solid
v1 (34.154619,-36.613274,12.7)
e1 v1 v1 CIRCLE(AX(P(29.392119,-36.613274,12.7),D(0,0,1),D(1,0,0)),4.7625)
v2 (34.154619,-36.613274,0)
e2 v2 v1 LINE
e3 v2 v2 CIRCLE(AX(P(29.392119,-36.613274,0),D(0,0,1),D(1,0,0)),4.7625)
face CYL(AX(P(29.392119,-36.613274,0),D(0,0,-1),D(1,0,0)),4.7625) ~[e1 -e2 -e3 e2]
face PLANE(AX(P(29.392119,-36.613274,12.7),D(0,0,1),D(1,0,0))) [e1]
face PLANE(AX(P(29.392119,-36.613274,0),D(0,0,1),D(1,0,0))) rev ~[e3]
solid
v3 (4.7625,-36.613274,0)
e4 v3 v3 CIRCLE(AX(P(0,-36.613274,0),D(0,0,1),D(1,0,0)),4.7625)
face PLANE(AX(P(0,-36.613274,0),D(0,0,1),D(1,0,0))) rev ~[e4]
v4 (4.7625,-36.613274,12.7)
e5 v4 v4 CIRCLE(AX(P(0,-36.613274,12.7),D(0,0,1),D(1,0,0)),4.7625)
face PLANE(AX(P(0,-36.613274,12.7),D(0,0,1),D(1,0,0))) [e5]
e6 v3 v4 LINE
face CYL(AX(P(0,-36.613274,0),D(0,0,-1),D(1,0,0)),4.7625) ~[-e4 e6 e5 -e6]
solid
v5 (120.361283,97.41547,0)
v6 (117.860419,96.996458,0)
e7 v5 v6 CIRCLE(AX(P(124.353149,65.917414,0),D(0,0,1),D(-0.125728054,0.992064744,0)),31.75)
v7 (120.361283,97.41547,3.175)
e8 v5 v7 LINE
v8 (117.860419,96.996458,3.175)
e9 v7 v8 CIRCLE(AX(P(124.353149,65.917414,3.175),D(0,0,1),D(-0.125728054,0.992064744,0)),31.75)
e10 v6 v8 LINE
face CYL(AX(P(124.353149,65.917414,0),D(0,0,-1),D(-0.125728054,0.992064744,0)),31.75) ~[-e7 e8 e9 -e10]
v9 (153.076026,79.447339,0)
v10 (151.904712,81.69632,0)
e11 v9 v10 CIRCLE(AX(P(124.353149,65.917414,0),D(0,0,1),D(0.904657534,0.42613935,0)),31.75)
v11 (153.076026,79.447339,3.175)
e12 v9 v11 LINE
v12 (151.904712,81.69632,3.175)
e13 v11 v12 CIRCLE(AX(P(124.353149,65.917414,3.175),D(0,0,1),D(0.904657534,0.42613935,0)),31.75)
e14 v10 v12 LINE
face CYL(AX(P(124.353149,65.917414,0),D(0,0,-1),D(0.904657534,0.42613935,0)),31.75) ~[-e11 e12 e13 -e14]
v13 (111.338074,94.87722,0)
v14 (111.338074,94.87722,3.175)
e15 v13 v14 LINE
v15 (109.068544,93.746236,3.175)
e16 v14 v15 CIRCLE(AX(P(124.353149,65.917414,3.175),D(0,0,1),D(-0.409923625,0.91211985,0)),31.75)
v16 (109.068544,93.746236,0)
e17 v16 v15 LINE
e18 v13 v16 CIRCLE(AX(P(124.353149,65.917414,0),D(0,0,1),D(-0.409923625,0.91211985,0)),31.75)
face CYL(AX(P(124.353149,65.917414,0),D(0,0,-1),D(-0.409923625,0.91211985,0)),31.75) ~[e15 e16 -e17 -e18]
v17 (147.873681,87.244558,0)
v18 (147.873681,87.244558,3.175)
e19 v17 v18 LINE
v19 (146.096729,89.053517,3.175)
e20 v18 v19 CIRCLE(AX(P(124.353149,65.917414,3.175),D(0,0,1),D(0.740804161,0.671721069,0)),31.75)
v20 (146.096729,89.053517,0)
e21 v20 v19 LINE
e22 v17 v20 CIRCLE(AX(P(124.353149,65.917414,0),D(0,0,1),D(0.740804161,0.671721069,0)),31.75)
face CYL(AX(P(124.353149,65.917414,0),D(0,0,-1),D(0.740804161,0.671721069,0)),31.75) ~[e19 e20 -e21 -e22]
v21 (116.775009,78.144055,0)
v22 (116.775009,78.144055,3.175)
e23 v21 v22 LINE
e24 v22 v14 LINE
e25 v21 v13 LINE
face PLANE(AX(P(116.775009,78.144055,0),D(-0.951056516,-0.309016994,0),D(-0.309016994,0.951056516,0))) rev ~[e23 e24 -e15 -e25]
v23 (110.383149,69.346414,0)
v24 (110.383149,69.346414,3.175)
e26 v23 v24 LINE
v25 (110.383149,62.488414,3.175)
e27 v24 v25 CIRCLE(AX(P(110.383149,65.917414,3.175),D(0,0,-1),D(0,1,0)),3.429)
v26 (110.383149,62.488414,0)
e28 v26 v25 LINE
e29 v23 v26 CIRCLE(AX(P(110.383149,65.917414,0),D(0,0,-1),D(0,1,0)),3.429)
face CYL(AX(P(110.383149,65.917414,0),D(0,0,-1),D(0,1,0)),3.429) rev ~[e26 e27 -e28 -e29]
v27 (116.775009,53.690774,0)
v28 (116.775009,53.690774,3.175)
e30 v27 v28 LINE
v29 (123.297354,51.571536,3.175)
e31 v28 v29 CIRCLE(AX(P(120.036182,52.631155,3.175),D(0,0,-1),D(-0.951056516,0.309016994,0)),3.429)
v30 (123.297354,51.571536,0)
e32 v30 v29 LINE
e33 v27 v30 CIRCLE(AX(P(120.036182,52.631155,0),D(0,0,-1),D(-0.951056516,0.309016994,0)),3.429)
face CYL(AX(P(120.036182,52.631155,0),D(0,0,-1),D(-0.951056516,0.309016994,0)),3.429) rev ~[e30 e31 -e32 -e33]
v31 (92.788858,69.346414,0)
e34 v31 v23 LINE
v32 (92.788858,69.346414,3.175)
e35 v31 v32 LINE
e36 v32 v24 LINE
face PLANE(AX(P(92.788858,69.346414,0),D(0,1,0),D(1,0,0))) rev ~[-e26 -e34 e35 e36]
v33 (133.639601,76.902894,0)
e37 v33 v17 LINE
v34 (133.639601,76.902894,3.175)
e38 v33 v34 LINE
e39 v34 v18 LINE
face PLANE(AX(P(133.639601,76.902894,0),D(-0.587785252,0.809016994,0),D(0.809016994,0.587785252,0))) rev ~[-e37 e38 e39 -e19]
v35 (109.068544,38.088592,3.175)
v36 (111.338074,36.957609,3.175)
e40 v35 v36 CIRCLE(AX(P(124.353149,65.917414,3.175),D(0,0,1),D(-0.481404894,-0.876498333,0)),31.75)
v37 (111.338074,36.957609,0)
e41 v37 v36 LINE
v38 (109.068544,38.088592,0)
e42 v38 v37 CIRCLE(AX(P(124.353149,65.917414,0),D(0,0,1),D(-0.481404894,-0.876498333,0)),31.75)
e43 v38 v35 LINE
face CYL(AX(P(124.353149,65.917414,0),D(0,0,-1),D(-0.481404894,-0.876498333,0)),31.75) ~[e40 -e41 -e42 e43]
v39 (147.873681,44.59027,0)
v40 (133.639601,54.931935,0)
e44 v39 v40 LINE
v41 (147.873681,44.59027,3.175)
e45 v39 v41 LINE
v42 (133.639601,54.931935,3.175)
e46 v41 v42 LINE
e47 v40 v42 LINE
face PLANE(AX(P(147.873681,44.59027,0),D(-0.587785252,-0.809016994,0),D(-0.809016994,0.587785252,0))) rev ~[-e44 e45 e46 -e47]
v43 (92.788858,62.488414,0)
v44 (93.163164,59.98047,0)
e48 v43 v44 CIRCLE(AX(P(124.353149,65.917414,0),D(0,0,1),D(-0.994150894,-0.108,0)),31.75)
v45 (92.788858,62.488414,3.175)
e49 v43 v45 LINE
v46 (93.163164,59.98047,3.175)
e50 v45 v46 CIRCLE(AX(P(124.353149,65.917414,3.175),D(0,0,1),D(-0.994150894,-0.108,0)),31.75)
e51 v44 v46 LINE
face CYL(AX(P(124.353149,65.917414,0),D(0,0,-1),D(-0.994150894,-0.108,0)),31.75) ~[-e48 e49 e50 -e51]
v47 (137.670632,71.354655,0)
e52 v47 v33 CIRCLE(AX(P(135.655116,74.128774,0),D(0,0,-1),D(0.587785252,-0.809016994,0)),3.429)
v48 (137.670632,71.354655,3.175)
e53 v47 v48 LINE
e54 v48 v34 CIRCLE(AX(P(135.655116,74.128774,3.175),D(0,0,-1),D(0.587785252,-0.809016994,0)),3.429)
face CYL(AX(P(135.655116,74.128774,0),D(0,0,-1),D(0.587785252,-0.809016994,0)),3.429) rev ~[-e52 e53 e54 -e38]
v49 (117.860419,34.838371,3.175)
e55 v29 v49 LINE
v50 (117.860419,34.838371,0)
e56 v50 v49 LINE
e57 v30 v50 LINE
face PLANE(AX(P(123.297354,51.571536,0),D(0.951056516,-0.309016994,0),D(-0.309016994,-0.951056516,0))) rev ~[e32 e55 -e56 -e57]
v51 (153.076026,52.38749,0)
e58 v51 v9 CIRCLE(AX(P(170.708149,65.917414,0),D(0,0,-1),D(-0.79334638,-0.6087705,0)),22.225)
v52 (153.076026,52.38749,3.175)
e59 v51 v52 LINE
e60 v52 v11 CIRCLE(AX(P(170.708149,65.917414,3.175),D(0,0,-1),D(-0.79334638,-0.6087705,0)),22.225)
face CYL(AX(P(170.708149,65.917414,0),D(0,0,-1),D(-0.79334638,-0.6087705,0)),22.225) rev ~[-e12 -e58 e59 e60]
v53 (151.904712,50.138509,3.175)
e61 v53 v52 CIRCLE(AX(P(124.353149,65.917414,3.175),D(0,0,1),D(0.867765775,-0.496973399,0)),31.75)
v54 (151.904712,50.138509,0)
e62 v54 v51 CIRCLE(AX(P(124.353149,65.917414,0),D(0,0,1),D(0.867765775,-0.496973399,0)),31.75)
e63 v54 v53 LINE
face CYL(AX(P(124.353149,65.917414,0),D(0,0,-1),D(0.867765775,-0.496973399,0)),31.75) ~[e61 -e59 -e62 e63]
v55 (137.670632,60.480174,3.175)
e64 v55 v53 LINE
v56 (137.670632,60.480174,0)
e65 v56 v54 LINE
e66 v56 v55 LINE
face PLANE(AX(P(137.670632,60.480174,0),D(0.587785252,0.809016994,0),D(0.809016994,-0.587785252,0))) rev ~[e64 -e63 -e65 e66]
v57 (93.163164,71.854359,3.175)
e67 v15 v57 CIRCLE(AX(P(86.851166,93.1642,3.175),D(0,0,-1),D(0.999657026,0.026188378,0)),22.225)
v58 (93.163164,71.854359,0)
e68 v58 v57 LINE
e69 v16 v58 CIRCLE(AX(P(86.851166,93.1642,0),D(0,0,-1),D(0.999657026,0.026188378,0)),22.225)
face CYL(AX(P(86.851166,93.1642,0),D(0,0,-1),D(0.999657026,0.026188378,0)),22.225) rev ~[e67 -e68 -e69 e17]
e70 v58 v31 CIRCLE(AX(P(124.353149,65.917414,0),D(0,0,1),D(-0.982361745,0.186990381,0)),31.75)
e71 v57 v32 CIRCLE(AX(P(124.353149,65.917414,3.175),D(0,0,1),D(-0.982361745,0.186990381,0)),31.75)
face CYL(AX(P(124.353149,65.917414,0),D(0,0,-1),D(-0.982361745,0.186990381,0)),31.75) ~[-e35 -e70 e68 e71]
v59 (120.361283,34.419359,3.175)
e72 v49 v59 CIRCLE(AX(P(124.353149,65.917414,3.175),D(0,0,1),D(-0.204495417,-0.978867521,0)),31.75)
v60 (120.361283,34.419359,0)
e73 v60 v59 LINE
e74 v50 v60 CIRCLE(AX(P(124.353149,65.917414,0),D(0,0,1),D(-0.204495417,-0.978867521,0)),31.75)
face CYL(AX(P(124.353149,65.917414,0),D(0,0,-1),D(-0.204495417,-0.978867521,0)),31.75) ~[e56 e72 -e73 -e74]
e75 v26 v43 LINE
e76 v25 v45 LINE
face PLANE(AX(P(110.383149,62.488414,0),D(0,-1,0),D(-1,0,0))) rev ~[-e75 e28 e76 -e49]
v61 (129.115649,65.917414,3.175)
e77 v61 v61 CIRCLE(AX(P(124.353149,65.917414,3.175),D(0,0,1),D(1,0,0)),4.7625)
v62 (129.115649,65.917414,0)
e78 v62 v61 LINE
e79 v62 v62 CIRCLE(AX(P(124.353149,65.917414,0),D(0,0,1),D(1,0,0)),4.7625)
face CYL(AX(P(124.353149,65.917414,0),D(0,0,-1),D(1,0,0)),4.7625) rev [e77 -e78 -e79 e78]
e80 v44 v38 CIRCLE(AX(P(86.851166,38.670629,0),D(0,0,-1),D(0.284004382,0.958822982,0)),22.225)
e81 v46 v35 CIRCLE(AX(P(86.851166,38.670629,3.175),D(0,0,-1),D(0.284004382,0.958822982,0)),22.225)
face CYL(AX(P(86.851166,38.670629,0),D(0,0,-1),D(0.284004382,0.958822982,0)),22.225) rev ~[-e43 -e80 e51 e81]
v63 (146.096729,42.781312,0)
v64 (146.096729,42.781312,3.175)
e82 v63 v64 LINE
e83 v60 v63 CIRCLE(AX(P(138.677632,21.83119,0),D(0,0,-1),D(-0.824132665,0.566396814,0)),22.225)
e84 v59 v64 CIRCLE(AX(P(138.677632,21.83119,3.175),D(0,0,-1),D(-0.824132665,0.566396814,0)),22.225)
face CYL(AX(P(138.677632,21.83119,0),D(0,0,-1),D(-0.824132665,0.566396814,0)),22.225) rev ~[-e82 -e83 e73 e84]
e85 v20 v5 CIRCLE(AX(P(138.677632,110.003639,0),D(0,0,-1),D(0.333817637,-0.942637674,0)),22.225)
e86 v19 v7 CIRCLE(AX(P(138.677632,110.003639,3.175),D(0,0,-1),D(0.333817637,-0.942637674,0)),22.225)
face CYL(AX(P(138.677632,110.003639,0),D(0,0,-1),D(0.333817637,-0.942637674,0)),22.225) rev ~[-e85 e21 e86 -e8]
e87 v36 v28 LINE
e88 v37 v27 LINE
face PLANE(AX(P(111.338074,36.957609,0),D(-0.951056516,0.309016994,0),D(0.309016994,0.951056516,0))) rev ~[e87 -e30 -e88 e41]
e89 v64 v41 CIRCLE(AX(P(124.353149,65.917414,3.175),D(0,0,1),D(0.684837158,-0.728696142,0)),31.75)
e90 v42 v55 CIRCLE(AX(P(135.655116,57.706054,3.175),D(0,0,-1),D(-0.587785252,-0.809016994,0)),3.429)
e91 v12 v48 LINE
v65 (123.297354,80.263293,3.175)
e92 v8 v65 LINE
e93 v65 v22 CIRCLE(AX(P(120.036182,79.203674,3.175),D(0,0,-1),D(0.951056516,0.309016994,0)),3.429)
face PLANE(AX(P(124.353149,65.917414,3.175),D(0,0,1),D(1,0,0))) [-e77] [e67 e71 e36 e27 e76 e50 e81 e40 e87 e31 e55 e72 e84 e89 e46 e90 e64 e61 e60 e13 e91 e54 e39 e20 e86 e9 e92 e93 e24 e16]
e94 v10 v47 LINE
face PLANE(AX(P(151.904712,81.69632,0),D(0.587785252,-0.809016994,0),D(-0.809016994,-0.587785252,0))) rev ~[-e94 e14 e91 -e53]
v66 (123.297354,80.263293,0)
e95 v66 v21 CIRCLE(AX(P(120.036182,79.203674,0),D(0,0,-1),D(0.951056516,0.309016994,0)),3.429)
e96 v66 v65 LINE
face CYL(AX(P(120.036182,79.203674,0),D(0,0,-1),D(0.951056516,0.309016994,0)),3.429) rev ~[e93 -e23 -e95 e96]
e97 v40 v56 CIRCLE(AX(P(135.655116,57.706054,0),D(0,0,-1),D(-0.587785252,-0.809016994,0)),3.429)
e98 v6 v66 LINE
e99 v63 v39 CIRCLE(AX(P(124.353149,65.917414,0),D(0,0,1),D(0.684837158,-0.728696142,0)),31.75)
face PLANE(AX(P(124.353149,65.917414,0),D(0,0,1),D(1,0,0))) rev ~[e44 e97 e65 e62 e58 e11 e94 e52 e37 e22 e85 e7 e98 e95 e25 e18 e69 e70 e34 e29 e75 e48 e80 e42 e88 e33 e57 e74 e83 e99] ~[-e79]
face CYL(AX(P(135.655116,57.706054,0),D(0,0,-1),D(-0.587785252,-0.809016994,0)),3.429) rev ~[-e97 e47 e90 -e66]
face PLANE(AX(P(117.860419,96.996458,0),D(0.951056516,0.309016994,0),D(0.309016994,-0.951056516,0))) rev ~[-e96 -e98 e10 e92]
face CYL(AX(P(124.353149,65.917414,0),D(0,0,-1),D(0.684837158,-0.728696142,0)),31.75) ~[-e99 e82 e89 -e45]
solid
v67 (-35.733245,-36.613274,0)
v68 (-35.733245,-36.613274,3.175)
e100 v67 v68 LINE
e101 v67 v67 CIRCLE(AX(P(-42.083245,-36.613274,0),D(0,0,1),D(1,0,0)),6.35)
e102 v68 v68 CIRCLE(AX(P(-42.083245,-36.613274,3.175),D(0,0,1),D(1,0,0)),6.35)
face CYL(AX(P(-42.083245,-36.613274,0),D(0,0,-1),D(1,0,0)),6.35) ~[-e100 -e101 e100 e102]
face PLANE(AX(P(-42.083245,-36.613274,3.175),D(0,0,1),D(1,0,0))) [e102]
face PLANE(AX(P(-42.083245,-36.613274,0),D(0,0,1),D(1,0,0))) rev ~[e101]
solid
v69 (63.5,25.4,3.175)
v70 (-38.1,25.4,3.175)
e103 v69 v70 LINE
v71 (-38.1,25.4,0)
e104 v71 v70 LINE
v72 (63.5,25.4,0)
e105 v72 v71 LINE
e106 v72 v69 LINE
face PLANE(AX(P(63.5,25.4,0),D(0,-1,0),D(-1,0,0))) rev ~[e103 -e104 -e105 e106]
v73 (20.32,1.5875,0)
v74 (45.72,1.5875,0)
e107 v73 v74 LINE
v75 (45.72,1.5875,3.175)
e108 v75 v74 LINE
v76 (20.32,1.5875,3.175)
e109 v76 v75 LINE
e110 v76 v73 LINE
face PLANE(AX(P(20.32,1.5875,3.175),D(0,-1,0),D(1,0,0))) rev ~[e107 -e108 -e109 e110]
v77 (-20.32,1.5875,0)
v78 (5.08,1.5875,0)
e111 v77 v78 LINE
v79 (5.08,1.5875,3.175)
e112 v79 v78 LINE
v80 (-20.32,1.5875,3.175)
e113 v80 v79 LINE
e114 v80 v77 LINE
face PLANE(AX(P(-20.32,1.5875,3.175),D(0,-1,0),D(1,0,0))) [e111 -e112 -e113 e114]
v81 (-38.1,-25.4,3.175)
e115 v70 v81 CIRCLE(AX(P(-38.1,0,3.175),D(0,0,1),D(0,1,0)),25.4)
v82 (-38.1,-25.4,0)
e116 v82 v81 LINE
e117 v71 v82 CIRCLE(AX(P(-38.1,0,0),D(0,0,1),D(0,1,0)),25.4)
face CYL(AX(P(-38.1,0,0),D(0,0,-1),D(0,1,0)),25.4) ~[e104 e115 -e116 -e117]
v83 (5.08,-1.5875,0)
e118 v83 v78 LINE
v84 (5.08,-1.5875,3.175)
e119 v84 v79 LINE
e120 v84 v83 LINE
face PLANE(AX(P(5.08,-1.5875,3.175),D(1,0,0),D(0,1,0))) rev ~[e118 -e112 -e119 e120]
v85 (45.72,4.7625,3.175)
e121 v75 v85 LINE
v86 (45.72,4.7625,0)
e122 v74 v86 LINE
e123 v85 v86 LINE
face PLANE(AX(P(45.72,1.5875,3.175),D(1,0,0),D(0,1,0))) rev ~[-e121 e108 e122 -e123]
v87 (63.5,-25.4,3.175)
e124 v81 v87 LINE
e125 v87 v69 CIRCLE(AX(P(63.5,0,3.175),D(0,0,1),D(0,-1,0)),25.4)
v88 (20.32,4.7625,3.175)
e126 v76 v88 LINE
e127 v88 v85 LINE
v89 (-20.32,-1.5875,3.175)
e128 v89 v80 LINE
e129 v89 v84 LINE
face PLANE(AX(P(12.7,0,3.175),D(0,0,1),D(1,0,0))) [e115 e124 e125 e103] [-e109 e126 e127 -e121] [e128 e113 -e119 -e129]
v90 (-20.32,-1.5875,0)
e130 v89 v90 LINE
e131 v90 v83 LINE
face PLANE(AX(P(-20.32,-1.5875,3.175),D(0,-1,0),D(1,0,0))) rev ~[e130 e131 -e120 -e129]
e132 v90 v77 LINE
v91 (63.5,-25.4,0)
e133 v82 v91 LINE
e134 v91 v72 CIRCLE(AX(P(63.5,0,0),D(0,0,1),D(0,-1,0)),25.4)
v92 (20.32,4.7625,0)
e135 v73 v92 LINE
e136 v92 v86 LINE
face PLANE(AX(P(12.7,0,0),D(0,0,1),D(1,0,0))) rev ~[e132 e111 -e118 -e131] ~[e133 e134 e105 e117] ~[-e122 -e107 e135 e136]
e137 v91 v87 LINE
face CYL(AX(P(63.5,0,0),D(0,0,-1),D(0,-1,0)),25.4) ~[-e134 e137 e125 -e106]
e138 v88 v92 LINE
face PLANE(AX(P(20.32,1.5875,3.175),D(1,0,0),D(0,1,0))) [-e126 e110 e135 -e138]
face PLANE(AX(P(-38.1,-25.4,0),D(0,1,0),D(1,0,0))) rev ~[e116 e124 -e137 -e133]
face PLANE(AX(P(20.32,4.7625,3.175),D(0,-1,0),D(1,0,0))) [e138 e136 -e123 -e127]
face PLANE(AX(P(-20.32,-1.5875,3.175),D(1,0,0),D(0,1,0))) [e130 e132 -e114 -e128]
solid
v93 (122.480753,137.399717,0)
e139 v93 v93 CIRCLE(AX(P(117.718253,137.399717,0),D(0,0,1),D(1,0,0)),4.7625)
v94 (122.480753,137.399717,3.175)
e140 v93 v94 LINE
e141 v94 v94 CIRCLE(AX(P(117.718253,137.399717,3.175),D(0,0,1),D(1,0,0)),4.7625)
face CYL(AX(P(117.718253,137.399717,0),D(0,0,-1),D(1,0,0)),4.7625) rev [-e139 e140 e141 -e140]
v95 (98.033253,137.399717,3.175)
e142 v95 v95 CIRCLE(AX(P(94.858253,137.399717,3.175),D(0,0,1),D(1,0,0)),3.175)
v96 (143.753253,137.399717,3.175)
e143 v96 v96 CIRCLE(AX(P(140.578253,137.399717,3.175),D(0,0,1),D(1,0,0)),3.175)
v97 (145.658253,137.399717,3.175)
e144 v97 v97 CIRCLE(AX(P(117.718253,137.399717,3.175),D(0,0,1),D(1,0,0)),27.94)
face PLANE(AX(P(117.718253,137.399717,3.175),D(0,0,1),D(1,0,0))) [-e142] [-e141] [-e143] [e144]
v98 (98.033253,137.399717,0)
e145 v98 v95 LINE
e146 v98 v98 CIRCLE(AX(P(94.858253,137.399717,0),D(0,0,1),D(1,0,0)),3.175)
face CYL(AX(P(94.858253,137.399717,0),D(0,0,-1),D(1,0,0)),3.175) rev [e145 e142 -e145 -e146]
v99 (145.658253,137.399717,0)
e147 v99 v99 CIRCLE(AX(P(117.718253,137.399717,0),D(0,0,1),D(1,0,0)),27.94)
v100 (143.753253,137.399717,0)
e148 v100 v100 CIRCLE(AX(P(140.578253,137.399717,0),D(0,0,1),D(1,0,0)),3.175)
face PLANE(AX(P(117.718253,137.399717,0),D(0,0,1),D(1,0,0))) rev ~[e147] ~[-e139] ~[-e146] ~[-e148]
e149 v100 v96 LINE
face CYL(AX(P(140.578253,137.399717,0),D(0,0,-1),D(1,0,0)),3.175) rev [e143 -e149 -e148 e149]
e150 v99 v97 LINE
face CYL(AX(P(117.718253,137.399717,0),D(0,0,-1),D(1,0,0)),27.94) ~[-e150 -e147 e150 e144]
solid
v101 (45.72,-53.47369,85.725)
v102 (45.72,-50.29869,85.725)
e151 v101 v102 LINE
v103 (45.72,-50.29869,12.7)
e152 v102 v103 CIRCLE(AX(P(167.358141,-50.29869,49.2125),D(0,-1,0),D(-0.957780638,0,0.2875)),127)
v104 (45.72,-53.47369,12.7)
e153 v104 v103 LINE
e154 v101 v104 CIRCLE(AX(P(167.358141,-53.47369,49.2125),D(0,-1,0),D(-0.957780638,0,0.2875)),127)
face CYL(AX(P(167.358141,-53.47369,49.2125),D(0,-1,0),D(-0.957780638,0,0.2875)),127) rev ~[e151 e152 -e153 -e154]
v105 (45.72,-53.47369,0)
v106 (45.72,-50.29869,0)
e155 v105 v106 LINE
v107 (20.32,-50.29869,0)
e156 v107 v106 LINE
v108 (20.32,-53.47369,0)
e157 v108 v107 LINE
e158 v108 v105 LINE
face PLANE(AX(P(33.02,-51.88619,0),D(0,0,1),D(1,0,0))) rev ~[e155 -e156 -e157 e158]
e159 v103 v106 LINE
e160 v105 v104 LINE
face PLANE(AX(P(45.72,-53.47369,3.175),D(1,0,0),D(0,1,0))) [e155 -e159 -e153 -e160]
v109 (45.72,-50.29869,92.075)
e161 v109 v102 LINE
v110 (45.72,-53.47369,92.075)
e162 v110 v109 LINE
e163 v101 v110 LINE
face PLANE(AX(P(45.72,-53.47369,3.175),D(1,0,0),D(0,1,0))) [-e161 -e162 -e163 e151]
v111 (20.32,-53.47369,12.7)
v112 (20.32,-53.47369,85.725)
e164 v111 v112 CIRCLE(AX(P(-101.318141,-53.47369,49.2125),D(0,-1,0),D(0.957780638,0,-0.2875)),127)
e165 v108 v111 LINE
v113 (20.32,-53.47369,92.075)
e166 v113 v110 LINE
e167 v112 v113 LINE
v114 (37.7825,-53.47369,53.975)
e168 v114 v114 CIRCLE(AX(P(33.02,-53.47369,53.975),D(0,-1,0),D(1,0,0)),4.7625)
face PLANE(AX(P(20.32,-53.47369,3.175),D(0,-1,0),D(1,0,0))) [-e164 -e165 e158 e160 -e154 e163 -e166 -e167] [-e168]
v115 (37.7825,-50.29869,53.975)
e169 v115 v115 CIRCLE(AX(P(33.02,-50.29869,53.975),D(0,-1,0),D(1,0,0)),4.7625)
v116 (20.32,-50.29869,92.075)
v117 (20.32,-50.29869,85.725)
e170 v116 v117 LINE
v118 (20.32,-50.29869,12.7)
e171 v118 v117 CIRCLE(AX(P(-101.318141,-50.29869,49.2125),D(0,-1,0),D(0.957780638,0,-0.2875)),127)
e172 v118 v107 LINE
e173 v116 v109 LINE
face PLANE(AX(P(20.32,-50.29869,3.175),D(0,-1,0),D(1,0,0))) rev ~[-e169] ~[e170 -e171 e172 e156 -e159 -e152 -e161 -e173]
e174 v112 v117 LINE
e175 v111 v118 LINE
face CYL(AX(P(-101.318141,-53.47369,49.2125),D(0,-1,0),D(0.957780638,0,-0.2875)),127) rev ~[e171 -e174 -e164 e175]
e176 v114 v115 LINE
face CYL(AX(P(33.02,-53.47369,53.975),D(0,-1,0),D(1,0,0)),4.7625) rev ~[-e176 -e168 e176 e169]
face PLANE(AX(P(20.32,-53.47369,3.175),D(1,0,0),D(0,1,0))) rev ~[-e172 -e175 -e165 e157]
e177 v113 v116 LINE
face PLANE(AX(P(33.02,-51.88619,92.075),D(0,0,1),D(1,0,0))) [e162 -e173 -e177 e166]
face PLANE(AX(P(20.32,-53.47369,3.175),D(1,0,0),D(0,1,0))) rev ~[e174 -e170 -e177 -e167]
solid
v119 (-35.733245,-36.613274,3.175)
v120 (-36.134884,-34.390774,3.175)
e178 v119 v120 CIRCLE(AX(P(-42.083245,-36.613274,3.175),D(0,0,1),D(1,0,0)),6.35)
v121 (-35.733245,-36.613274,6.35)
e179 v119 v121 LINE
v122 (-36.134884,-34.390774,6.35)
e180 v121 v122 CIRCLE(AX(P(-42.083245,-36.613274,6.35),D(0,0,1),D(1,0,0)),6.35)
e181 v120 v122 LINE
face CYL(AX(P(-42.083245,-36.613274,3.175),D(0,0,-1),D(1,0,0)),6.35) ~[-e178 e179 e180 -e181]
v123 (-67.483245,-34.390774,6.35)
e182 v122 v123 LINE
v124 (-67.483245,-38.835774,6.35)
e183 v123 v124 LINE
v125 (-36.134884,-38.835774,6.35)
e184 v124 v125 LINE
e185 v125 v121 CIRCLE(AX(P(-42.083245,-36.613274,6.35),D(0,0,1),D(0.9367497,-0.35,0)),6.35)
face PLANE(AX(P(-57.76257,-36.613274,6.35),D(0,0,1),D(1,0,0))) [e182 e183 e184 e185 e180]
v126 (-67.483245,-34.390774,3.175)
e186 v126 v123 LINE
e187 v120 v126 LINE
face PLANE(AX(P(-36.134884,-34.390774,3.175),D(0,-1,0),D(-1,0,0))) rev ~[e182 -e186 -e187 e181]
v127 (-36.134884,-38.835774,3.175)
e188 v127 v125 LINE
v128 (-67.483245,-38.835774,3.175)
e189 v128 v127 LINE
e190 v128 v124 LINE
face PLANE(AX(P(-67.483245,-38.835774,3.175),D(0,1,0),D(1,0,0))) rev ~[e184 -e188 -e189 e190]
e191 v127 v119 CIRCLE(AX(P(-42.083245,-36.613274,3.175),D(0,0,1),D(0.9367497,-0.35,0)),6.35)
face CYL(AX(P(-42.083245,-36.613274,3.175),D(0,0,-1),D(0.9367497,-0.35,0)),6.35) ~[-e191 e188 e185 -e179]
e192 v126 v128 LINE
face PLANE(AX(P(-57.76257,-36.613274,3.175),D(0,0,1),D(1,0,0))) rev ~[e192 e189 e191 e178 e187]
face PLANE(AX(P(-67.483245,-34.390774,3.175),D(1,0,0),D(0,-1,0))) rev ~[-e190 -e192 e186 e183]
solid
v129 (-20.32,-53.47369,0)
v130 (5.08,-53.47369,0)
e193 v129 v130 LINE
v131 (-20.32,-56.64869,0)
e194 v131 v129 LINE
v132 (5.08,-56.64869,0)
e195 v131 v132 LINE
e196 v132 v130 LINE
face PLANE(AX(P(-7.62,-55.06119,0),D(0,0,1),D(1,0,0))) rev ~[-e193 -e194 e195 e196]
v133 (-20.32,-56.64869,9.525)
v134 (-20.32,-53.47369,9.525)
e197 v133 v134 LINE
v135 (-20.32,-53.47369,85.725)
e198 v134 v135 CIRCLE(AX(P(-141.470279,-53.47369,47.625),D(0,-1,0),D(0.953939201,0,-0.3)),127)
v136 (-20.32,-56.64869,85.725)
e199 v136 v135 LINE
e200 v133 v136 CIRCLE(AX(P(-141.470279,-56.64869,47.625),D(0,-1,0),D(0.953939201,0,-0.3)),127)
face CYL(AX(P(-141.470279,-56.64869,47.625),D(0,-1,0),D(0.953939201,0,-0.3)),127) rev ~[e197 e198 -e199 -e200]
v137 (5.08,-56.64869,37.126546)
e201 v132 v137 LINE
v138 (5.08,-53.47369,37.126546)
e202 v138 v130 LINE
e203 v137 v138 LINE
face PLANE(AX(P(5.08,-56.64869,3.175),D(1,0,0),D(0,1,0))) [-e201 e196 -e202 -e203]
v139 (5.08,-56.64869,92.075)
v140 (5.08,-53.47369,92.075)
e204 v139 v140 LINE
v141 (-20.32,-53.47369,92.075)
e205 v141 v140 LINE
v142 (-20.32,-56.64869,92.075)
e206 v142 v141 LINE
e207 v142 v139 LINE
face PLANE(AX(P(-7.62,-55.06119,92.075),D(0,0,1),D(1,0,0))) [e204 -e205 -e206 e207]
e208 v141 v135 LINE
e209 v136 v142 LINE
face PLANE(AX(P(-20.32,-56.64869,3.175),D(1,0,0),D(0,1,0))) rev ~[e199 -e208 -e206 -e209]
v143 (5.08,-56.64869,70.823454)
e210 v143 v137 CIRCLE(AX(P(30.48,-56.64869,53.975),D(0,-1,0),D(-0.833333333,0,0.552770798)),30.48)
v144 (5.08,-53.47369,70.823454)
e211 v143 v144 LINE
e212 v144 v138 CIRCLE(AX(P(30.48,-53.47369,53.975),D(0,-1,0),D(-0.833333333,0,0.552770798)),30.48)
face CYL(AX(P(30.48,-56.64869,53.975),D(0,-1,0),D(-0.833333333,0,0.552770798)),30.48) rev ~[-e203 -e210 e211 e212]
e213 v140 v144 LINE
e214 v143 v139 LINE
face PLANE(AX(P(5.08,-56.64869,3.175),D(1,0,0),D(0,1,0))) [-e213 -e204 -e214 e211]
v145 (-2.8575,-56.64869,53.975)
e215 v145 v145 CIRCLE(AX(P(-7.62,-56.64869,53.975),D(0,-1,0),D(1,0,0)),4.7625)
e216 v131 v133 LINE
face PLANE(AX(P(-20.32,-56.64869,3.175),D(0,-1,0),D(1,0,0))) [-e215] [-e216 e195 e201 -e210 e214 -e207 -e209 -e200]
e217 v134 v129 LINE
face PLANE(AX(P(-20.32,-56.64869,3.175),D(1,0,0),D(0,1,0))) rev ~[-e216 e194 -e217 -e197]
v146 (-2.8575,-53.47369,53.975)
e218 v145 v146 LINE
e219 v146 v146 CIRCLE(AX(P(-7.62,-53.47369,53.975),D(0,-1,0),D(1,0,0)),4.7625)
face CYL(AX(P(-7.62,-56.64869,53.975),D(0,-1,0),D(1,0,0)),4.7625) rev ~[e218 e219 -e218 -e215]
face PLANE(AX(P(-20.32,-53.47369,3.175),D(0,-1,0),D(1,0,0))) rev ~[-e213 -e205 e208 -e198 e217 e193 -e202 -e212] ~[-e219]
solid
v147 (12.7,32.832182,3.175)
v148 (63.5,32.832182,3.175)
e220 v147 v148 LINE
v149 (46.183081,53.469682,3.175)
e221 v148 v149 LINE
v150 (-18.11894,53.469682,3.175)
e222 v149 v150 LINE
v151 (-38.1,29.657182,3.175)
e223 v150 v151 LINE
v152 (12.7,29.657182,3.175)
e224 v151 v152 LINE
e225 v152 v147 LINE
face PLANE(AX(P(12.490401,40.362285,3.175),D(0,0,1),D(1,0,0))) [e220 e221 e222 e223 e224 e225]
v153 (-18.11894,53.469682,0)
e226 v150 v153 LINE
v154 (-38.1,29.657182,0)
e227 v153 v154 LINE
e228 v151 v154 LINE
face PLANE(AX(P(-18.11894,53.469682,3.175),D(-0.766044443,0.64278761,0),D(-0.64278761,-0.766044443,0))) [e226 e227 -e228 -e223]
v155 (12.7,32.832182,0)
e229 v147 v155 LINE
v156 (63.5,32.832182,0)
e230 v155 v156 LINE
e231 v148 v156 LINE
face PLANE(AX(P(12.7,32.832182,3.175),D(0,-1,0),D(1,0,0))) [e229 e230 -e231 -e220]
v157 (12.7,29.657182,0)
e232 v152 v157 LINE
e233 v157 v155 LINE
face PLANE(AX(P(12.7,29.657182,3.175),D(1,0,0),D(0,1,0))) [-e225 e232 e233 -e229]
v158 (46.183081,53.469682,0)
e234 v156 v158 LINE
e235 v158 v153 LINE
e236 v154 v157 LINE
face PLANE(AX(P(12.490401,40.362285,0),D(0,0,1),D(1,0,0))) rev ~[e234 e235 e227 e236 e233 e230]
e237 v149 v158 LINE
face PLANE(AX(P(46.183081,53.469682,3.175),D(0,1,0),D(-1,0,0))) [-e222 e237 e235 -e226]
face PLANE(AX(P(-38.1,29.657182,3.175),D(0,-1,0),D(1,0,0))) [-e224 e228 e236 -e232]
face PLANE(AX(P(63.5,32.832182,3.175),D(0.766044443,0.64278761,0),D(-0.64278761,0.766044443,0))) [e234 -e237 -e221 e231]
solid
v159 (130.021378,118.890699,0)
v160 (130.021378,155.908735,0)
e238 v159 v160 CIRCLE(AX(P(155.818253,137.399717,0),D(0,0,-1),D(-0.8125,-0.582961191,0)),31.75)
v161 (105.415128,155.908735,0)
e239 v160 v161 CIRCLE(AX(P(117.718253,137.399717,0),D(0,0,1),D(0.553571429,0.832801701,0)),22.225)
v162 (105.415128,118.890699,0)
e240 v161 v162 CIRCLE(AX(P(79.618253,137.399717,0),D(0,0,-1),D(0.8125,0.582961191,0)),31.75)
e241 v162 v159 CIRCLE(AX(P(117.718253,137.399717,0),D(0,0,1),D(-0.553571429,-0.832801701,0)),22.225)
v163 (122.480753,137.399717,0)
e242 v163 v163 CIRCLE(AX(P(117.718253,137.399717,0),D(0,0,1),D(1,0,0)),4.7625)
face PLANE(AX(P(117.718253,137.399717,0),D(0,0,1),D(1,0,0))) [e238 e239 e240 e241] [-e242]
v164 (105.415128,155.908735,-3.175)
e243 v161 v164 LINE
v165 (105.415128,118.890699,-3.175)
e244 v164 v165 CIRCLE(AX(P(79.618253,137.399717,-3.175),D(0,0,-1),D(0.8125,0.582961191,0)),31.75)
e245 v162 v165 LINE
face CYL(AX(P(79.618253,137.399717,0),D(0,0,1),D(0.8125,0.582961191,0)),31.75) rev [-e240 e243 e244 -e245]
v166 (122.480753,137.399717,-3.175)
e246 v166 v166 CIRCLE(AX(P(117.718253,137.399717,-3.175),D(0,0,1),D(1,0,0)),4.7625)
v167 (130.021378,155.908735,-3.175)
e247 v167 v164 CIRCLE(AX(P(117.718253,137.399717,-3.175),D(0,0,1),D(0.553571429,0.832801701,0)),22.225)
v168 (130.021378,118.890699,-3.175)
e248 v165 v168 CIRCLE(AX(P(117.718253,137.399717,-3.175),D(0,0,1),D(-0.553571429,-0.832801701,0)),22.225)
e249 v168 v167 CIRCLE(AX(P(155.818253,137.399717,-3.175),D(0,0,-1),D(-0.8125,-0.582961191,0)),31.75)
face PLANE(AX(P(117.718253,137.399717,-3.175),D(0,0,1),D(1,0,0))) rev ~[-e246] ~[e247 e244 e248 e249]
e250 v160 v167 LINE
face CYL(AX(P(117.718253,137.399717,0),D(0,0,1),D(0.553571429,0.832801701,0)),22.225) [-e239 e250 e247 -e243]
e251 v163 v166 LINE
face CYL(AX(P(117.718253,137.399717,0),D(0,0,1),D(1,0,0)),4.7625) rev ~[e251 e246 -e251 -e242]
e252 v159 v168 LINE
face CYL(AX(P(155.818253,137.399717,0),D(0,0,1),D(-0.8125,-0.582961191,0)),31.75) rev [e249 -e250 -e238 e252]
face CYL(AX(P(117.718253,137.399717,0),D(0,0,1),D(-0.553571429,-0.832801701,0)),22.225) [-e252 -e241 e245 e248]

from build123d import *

# Parameters (mm, degrees)
F1_DEPTH  = 3.175
F2_R      = 4.7625
F4_DEPTH  = 3.175
F5_DEPTH  = 3.175
F2_R_2    = 27.94
F2_R_3    = 3.175
F6_DEPTH  = 3.175
F8_DEPTH  = 3.175
F7_W      = 25.4
F7_H      = 3.175
F9_DEPTH  = 3.175
F10_DEPTH = 3.175
F11_DEPTH = 88.9
F13_DEPTH = 3.175
F14_DEPTH = 3.175
F16_DEPTH = 3.175
F17_DEPTH = 3.175
F12_R     = 4.7625
F18_DEPTH = 3.175
F15_R     = 4.7625
F19_DEPTH = 3.175
F20_DEPTH = 3.175
F21_R     = 4.7625
F22_DEPTH = 12.7
F21_R_2   = 6.35
F23_DEPTH = 3.175
F25_DEPTH = 3.175
F26_DEPTH = 12.7
F27_DEPTH = 3.175


with BuildPart() as f1:
    # F0 (on Top) → F1 (new body)
    with BuildSketch(Plane.XY):
        with BuildLine():
            Line((63.5, 25.4), (-38.1, 25.4))
            ThreePointArc((-38.1, 25.4), (-63.5, 0), (-38.1, -25.4))
            Line((-38.1, -25.4), (63.5, -25.4))
            ThreePointArc((63.5, -25.4), (88.9, 0), (63.5, 25.4))
        make_face()
    extrude(amount=F1_DEPTH)

    # F7 (on face) → F9 (cut)
    with BuildSketch(Plane.XY.offset(3.175)):
        with Locations((-7.62, 0)):
            Rectangle(F7_W, F7_H)
    extrude(amount=-F9_DEPTH, mode=Mode.SUBTRACT)

    # F7 (on face) → F10 (cut)
    with BuildSketch(Plane.XY.offset(3.175)):
        with Locations((33.02, 3.175)):
            Rectangle(F7_W, F7_H)
    extrude(amount=-F10_DEPTH, mode=Mode.SUBTRACT)


with BuildPart() as f4:
    # F2 (on Top) → F4 (new body)
    with BuildSketch(Plane.XY):
        with BuildLine():
            ThreePointArc((120.3612832322, 34.4193587213), (131.809729009, 42.968420609), (146.0967287001, 42.7813118451))
            ThreePointArc((146.0967287001, 42.7813118451), (147.0032712022, 43.6680444399), (147.873681045, 44.5902703929))
            Line((147.873681045, 44.5902703929), (133.639600716, 54.9319350989))
            ThreePointArc((133.639600716, 54.9319350989), (132.8809970724, 59.7215700028), (137.6706319762, 60.4801736464))
            Line((137.6706319762, 60.4801736464), (151.9047123053, 50.1385089403))
            ThreePointArc((151.9047123053, 50.1385089403), (152.5128298738, 51.2513013853), (153.076025647, 52.3874899805))
            ThreePointArc((153.076025647, 52.3874899805), (148.4831489347, 65.9174143472), (153.076025647, 79.4473387139))
            ThreePointArc((153.076025647, 79.4473387139), (152.5128298738, 80.583527309), (151.9047123053, 81.6963197541))
            Line((151.9047123053, 81.6963197541), (137.6706319762, 71.354655048))
            ThreePointArc((137.6706319762, 71.354655048), (132.8809970724, 72.1132586916), (133.639600716, 76.9028935954))
            Line((133.639600716, 76.9028935954), (147.873681045, 87.2445583015))
            ThreePointArc((147.873681045, 87.2445583015), (147.0032712022, 88.1667842544), (146.0967287001, 89.0535168493))
            ThreePointArc((146.0967287001, 89.0535168493), (131.809729009, 88.8664080854), (120.3612832322, 97.4154699731))
            ThreePointArc((120.3612832322, 97.4154699731), (119.1066666, 97.2309405477), (117.8604194306, 96.9964581482))
            Line((117.8604194306, 96.9964581482), (123.2973543177, 80.2632931535))
            ThreePointArc((123.2973543177, 80.2632931535), (121.095800797, 75.9425010854), (116.7750087289, 78.1440546061))
            Line((116.7750087289, 78.1440546061), (111.3380738418, 94.8772196008))
            ThreePointArc((111.3380738418, 94.8772196008), (110.1920134063, 94.33439414), (109.0685435545, 93.7462364274))
            ThreePointArc((109.0685435545, 93.7462364274), (104.8315688605, 80.100672485), (93.1631635397, 71.8543589368))
            ThreePointArc((93.1631635397, 71.8543589368), (92.9509635914, 70.6041248848), (92.7888580509, 69.3464143472))
            Line((92.7888580509, 69.3464143472), (110.3831489347, 69.3464143472))
            ThreePointArc((110.3831489347, 69.3464143472), (113.8121489347, 65.9174143472), (110.3831489347, 62.4884143472))
            Line((110.3831489347, 62.4884143472), (92.7888580509, 62.4884143472))
            ThreePointArc((92.7888580509, 62.4884143472), (92.9509635914, 61.2307038095), (93.1631635397, 59.9804697575))
            ThreePointArc((93.1631635397, 59.9804697575), (104.8315688605, 51.7341562094), (109.0685435545, 38.088592267))
            ThreePointArc((109.0685435545, 38.088592267), (110.1920134063, 37.5004345544), (111.3380738418, 36.9576090936))
            Line((111.3380738418, 36.9576090936), (116.7750087289, 53.6907740882))
            ThreePointArc((116.7750087289, 53.6907740882), (121.095800797, 55.8923276089), (123.2973543177, 51.5715355408))
            Line((123.2973543177, 51.5715355408), (117.8604194306, 34.8383705461))
            ThreePointArc((117.8604194306, 34.8383705461), (119.1066666, 34.6038881466), (120.3612832322, 34.4193587213))
        make_face()
        with Locations((124.3531489347, 65.9174143472)):
            Circle(F2_R, mode=Mode.SUBTRACT)
    extrude(amount=F4_DEPTH)

    # F2 (on Top) → F8 (join)
    with BuildSketch(Plane.XY):
        with BuildLine():
            ThreePointArc((120.3612832322, 34.4193587213), (131.809729009, 42.968420609), (146.0967287001, 42.7813118451))
            ThreePointArc((146.0967287001, 42.7813118451), (147.0032712022, 43.6680444399), (147.873681045, 44.5902703929))
            Line((147.873681045, 44.5902703929), (133.639600716, 54.9319350989))
            ThreePointArc((133.639600716, 54.9319350989), (132.8809970724, 59.7215700028), (137.6706319762, 60.4801736464))
            Line((137.6706319762, 60.4801736464), (151.9047123053, 50.1385089403))
            ThreePointArc((151.9047123053, 50.1385089403), (152.5128298738, 51.2513013853), (153.076025647, 52.3874899805))
            ThreePointArc((153.076025647, 52.3874899805), (148.4831489347, 65.9174143472), (153.076025647, 79.4473387139))
            ThreePointArc((153.076025647, 79.4473387139), (152.5128298738, 80.583527309), (151.9047123053, 81.6963197541))
            Line((151.9047123053, 81.6963197541), (137.6706319762, 71.354655048))
            ThreePointArc((137.6706319762, 71.354655048), (132.8809970724, 72.1132586916), (133.639600716, 76.9028935954))
            Line((133.639600716, 76.9028935954), (147.873681045, 87.2445583015))
            ThreePointArc((147.873681045, 87.2445583015), (147.0032712022, 88.1667842544), (146.0967287001, 89.0535168493))
            ThreePointArc((146.0967287001, 89.0535168493), (131.809729009, 88.8664080854), (120.3612832322, 97.4154699731))
            ThreePointArc((120.3612832322, 97.4154699731), (119.1066666, 97.2309405477), (117.8604194306, 96.9964581482))
            Line((117.8604194306, 96.9964581482), (123.2973543177, 80.2632931535))
            ThreePointArc((123.2973543177, 80.2632931535), (121.095800797, 75.9425010854), (116.7750087289, 78.1440546061))
            Line((116.7750087289, 78.1440546061), (111.3380738418, 94.8772196008))
            ThreePointArc((111.3380738418, 94.8772196008), (110.1920134063, 94.33439414), (109.0685435545, 93.7462364274))
            ThreePointArc((109.0685435545, 93.7462364274), (104.8315688605, 80.100672485), (93.1631635397, 71.8543589368))
            ThreePointArc((93.1631635397, 71.8543589368), (92.9509635914, 70.6041248848), (92.7888580509, 69.3464143472))
            Line((92.7888580509, 69.3464143472), (110.3831489347, 69.3464143472))
            ThreePointArc((110.3831489347, 69.3464143472), (113.8121489347, 65.9174143472), (110.3831489347, 62.4884143472))
            Line((110.3831489347, 62.4884143472), (92.7888580509, 62.4884143472))
            ThreePointArc((92.7888580509, 62.4884143472), (92.9509635914, 61.2307038095), (93.1631635397, 59.9804697575))
            ThreePointArc((93.1631635397, 59.9804697575), (104.8315688605, 51.7341562094), (109.0685435545, 38.088592267))
            ThreePointArc((109.0685435545, 38.088592267), (110.1920134063, 37.5004345544), (111.3380738418, 36.9576090936))
            Line((111.3380738418, 36.9576090936), (116.7750087289, 53.6907740882))
            ThreePointArc((116.7750087289, 53.6907740882), (121.095800797, 55.8923276089), (123.2973543177, 51.5715355408))
            Line((123.2973543177, 51.5715355408), (117.8604194306, 34.8383705461))
            ThreePointArc((117.8604194306, 34.8383705461), (119.1066666, 34.6038881466), (120.3612832322, 34.4193587213))
        make_face()
        with Locations((124.3531489347, 65.9174143472)):
            Circle(F2_R, mode=Mode.SUBTRACT)
    extrude(amount=F8_DEPTH)


with BuildPart() as f5:
    # F2 (on Top) → F5 (new body)
    with BuildSketch(Plane.XY):
        with BuildLine():
            ThreePointArc((130.021378454, 118.8906994246), (124.068253454, 137.399717233), (130.021378454, 155.9087350415))
            ThreePointArc((130.021378454, 155.9087350415), (117.718253454, 159.624717233), (105.415128454, 155.9087350415))
            ThreePointArc((105.415128454, 155.9087350415), (111.368253454, 137.399717233), (105.415128454, 118.8906994246))
            ThreePointArc((105.415128454, 118.8906994246), (117.718253454, 115.174717233), (130.021378454, 118.8906994246))
        make_face()
        with Locations((117.718253454, 137.399717233)):
            Circle(F2_R, mode=Mode.SUBTRACT)
    extrude(amount=F5_DEPTH)

    # F2 (on Top) → F6 (join)
    with BuildSketch(Plane.XY):
        with Locations((117.718253454, 137.399717233)):
            Circle(F2_R_2)
        with Locations((94.858253454, 137.399717233)):
            Circle(F2_R_3, mode=Mode.SUBTRACT)
        with BuildLine():
            ThreePointArc((105.415128454, 155.9087350415), (117.718253454, 159.624717233), (130.021378454, 155.9087350415))
            ThreePointArc((130.021378454, 155.9087350415), (124.068253454, 137.399717233), (130.021378454, 118.8906994246))
            ThreePointArc((130.021378454, 118.8906994246), (117.718253454, 115.174717233), (105.415128454, 118.8906994246))
            ThreePointArc((105.415128454, 118.8906994246), (111.368253454, 137.399717233), (105.415128454, 155.9087350415))
        make_face(mode=Mode.SUBTRACT)
        with Locations((140.578253454, 137.399717233)):
            Circle(F2_R_3, mode=Mode.SUBTRACT)
    extrude(amount=F6_DEPTH)


with BuildPart() as f11:
    # F7 (on face) → F11 (new body)
    with BuildSketch(Plane.XY.offset(3.175)):
        with Locations((-7.62, -55.0611902535)):
            Rectangle(F7_W, F7_H)
    extrude(amount=F11_DEPTH)

    # F7 (on face) → F13 (join)
    with BuildSketch(Plane.XY.offset(3.175)):
        with Locations((-7.62, -55.0611902535)):
            Rectangle(F7_W, F7_H)
    extrude(amount=-F13_DEPTH)

    # F15 (on face) → F16 (cut)
    with BuildSketch(Plane.XZ.offset(56.6486902535)):
        with BuildLine():
            Line((5.08, 37.126546065), (5.08, 70.823453935))
            ThreePointArc((5.08, 70.823453935), (0, 53.975), (5.08, 37.126546065))
        make_face()
        with BuildLine():
            ThreePointArc((-20.32, 9.525), (-14.47027858, 47.625), (-20.32, 85.725))
            Line((-20.32, 85.725), (-20.32, 9.525))
        make_face()
    extrude(amount=-F16_DEPTH, mode=Mode.SUBTRACT)

    # F15 (on face) → F19 (cut)
    with BuildSketch(Plane.XZ.offset(56.6486902535)):
        with Locations((-7.62, 53.975)):
            Circle(F15_R)
    extrude(amount=-F19_DEPTH, mode=Mode.SUBTRACT)


with BuildPart() as f11b:
    # F7 (on face) → F11, piece 2 (new body)
    with BuildSketch(Plane.XY.offset(3.175)):
        with Locations((33.02, -51.8861902535)):
            Rectangle(F7_W, F7_H)
    extrude(amount=F11_DEPTH)

    # F7 (on face) → F14 (join)
    with BuildSketch(Plane.XY.offset(3.175)):
        with Locations((33.02, -51.8861902535)):
            Rectangle(F7_W, F7_H)
    extrude(amount=-F14_DEPTH)

    # F12 (on face) → F17 (cut)
    with BuildSketch(Plane.XZ.offset(53.4736902535)):
        with BuildLine():
            Line((20.32, 85.725), (20.32, 12.7))
            ThreePointArc((20.32, 12.7), (25.681859009, 49.2125), (20.32, 85.725))
        make_face()
        with BuildLine():
            ThreePointArc((45.72, 85.725), (40.358140991, 49.2125), (45.72, 12.7))
            Line((45.72, 12.7), (45.72, 85.725))
        make_face()
    extrude(amount=-F17_DEPTH, mode=Mode.SUBTRACT)

    # F12 (on face) → F18 (cut)
    with BuildSketch(Plane.XZ.offset(53.4736902535)):
        with Locations((33.02, 53.975)):
            Circle(F12_R)
    extrude(amount=-F18_DEPTH, mode=Mode.SUBTRACT)


with BuildPart() as f20:
    # F2 (on Top) → F20 (new body)
    with BuildSketch(Plane.XY):
        with BuildLine():
            ThreePointArc((130.021378454, 118.8906994246), (124.068253454, 137.399717233), (130.021378454, 155.9087350415))
            ThreePointArc((130.021378454, 155.9087350415), (117.718253454, 159.624717233), (105.415128454, 155.9087350415))
            ThreePointArc((105.415128454, 155.9087350415), (111.368253454, 137.399717233), (105.415128454, 118.8906994246))
            ThreePointArc((105.415128454, 118.8906994246), (117.718253454, 115.174717233), (130.021378454, 118.8906994246))
        make_face()
        with Locations((117.718253454, 137.399717233)):
            Circle(F2_R, mode=Mode.SUBTRACT)
    extrude(amount=-F20_DEPTH)


with BuildPart() as f22:
    # F21 (on Top) → F22 (new body)
    with BuildSketch(Plane.XY):
        with Locations((29.3921194971, -36.6132743657)):
            Circle(F21_R)
    extrude(amount=F22_DEPTH)


with BuildPart() as f23:
    # F21 (on Top) → F23 (new body)
    with BuildSketch(Plane.XY):
        with Locations((-42.0832447708, -36.6132743657)):
            Circle(F21_R_2)
    extrude(amount=F23_DEPTH)


with BuildPart() as f25:
    # F24 (on face) → F25 (new body)
    with BuildSketch(Plane.XY.offset(3.175)):
        with BuildLine():
            Line((-67.4832447708, -34.3907743657), (-67.4832447708, -38.8357743657))
            Line((-67.4832447708, -38.8357743657), (-48.0316053642, -38.8357743657))
            ThreePointArc((-48.0316053642, -38.8357743657), (-48.4332447708, -36.6132743657), (-48.0316053642, -34.3907743657))
            Line((-48.0316053642, -34.3907743657), (-67.4832447708, -34.3907743657))
        make_face()
        with BuildLine():
            ThreePointArc((-48.0316053642, -34.3907743657), (-48.4332447708, -36.6132743657), (-48.0316053642, -38.8357743657))
            Line((-48.0316053642, -38.8357743657), (-36.1348841773, -38.8357743657))
            ThreePointArc((-36.1348841773, -38.8357743657), (-35.8344612984, -37.7425241678), (-35.7332447708, -36.6132743657))
            ThreePointArc((-35.7332447708, -36.6132743657), (-35.8344612984, -35.4840245635), (-36.1348841773, -34.3907743657))
            Line((-36.1348841773, -34.3907743657), (-48.0316053642, -34.3907743657))
        make_face()
    extrude(amount=F25_DEPTH)


with BuildPart() as f26:
    # F21 (on Top) → F26 (new body)
    with BuildSketch(Plane.XY):
        with Locations((0, -36.6132743657)):
            Circle(F21_R)
    extrude(amount=F26_DEPTH)


with BuildPart() as f27:
    # F7 (on face) → F27 (new body)
    with BuildSketch(Plane.XY.offset(3.175)):
        Polygon((46.1830813616, 53.4696821765), (-18.1189400326, 53.4696821765), (-38.1, 29.6571821765), (12.7, 29.6571821765), (12.7, 32.8321821765), (63.5, 32.8321821765), align=None)
    extrude(amount=-F27_DEPTH)


solid = Compound([f1.part, f4.part, f5.part, f11.part, f11b.part, f20.part, f22.part, f23.part, f25.part, f26.part, f27.part])
